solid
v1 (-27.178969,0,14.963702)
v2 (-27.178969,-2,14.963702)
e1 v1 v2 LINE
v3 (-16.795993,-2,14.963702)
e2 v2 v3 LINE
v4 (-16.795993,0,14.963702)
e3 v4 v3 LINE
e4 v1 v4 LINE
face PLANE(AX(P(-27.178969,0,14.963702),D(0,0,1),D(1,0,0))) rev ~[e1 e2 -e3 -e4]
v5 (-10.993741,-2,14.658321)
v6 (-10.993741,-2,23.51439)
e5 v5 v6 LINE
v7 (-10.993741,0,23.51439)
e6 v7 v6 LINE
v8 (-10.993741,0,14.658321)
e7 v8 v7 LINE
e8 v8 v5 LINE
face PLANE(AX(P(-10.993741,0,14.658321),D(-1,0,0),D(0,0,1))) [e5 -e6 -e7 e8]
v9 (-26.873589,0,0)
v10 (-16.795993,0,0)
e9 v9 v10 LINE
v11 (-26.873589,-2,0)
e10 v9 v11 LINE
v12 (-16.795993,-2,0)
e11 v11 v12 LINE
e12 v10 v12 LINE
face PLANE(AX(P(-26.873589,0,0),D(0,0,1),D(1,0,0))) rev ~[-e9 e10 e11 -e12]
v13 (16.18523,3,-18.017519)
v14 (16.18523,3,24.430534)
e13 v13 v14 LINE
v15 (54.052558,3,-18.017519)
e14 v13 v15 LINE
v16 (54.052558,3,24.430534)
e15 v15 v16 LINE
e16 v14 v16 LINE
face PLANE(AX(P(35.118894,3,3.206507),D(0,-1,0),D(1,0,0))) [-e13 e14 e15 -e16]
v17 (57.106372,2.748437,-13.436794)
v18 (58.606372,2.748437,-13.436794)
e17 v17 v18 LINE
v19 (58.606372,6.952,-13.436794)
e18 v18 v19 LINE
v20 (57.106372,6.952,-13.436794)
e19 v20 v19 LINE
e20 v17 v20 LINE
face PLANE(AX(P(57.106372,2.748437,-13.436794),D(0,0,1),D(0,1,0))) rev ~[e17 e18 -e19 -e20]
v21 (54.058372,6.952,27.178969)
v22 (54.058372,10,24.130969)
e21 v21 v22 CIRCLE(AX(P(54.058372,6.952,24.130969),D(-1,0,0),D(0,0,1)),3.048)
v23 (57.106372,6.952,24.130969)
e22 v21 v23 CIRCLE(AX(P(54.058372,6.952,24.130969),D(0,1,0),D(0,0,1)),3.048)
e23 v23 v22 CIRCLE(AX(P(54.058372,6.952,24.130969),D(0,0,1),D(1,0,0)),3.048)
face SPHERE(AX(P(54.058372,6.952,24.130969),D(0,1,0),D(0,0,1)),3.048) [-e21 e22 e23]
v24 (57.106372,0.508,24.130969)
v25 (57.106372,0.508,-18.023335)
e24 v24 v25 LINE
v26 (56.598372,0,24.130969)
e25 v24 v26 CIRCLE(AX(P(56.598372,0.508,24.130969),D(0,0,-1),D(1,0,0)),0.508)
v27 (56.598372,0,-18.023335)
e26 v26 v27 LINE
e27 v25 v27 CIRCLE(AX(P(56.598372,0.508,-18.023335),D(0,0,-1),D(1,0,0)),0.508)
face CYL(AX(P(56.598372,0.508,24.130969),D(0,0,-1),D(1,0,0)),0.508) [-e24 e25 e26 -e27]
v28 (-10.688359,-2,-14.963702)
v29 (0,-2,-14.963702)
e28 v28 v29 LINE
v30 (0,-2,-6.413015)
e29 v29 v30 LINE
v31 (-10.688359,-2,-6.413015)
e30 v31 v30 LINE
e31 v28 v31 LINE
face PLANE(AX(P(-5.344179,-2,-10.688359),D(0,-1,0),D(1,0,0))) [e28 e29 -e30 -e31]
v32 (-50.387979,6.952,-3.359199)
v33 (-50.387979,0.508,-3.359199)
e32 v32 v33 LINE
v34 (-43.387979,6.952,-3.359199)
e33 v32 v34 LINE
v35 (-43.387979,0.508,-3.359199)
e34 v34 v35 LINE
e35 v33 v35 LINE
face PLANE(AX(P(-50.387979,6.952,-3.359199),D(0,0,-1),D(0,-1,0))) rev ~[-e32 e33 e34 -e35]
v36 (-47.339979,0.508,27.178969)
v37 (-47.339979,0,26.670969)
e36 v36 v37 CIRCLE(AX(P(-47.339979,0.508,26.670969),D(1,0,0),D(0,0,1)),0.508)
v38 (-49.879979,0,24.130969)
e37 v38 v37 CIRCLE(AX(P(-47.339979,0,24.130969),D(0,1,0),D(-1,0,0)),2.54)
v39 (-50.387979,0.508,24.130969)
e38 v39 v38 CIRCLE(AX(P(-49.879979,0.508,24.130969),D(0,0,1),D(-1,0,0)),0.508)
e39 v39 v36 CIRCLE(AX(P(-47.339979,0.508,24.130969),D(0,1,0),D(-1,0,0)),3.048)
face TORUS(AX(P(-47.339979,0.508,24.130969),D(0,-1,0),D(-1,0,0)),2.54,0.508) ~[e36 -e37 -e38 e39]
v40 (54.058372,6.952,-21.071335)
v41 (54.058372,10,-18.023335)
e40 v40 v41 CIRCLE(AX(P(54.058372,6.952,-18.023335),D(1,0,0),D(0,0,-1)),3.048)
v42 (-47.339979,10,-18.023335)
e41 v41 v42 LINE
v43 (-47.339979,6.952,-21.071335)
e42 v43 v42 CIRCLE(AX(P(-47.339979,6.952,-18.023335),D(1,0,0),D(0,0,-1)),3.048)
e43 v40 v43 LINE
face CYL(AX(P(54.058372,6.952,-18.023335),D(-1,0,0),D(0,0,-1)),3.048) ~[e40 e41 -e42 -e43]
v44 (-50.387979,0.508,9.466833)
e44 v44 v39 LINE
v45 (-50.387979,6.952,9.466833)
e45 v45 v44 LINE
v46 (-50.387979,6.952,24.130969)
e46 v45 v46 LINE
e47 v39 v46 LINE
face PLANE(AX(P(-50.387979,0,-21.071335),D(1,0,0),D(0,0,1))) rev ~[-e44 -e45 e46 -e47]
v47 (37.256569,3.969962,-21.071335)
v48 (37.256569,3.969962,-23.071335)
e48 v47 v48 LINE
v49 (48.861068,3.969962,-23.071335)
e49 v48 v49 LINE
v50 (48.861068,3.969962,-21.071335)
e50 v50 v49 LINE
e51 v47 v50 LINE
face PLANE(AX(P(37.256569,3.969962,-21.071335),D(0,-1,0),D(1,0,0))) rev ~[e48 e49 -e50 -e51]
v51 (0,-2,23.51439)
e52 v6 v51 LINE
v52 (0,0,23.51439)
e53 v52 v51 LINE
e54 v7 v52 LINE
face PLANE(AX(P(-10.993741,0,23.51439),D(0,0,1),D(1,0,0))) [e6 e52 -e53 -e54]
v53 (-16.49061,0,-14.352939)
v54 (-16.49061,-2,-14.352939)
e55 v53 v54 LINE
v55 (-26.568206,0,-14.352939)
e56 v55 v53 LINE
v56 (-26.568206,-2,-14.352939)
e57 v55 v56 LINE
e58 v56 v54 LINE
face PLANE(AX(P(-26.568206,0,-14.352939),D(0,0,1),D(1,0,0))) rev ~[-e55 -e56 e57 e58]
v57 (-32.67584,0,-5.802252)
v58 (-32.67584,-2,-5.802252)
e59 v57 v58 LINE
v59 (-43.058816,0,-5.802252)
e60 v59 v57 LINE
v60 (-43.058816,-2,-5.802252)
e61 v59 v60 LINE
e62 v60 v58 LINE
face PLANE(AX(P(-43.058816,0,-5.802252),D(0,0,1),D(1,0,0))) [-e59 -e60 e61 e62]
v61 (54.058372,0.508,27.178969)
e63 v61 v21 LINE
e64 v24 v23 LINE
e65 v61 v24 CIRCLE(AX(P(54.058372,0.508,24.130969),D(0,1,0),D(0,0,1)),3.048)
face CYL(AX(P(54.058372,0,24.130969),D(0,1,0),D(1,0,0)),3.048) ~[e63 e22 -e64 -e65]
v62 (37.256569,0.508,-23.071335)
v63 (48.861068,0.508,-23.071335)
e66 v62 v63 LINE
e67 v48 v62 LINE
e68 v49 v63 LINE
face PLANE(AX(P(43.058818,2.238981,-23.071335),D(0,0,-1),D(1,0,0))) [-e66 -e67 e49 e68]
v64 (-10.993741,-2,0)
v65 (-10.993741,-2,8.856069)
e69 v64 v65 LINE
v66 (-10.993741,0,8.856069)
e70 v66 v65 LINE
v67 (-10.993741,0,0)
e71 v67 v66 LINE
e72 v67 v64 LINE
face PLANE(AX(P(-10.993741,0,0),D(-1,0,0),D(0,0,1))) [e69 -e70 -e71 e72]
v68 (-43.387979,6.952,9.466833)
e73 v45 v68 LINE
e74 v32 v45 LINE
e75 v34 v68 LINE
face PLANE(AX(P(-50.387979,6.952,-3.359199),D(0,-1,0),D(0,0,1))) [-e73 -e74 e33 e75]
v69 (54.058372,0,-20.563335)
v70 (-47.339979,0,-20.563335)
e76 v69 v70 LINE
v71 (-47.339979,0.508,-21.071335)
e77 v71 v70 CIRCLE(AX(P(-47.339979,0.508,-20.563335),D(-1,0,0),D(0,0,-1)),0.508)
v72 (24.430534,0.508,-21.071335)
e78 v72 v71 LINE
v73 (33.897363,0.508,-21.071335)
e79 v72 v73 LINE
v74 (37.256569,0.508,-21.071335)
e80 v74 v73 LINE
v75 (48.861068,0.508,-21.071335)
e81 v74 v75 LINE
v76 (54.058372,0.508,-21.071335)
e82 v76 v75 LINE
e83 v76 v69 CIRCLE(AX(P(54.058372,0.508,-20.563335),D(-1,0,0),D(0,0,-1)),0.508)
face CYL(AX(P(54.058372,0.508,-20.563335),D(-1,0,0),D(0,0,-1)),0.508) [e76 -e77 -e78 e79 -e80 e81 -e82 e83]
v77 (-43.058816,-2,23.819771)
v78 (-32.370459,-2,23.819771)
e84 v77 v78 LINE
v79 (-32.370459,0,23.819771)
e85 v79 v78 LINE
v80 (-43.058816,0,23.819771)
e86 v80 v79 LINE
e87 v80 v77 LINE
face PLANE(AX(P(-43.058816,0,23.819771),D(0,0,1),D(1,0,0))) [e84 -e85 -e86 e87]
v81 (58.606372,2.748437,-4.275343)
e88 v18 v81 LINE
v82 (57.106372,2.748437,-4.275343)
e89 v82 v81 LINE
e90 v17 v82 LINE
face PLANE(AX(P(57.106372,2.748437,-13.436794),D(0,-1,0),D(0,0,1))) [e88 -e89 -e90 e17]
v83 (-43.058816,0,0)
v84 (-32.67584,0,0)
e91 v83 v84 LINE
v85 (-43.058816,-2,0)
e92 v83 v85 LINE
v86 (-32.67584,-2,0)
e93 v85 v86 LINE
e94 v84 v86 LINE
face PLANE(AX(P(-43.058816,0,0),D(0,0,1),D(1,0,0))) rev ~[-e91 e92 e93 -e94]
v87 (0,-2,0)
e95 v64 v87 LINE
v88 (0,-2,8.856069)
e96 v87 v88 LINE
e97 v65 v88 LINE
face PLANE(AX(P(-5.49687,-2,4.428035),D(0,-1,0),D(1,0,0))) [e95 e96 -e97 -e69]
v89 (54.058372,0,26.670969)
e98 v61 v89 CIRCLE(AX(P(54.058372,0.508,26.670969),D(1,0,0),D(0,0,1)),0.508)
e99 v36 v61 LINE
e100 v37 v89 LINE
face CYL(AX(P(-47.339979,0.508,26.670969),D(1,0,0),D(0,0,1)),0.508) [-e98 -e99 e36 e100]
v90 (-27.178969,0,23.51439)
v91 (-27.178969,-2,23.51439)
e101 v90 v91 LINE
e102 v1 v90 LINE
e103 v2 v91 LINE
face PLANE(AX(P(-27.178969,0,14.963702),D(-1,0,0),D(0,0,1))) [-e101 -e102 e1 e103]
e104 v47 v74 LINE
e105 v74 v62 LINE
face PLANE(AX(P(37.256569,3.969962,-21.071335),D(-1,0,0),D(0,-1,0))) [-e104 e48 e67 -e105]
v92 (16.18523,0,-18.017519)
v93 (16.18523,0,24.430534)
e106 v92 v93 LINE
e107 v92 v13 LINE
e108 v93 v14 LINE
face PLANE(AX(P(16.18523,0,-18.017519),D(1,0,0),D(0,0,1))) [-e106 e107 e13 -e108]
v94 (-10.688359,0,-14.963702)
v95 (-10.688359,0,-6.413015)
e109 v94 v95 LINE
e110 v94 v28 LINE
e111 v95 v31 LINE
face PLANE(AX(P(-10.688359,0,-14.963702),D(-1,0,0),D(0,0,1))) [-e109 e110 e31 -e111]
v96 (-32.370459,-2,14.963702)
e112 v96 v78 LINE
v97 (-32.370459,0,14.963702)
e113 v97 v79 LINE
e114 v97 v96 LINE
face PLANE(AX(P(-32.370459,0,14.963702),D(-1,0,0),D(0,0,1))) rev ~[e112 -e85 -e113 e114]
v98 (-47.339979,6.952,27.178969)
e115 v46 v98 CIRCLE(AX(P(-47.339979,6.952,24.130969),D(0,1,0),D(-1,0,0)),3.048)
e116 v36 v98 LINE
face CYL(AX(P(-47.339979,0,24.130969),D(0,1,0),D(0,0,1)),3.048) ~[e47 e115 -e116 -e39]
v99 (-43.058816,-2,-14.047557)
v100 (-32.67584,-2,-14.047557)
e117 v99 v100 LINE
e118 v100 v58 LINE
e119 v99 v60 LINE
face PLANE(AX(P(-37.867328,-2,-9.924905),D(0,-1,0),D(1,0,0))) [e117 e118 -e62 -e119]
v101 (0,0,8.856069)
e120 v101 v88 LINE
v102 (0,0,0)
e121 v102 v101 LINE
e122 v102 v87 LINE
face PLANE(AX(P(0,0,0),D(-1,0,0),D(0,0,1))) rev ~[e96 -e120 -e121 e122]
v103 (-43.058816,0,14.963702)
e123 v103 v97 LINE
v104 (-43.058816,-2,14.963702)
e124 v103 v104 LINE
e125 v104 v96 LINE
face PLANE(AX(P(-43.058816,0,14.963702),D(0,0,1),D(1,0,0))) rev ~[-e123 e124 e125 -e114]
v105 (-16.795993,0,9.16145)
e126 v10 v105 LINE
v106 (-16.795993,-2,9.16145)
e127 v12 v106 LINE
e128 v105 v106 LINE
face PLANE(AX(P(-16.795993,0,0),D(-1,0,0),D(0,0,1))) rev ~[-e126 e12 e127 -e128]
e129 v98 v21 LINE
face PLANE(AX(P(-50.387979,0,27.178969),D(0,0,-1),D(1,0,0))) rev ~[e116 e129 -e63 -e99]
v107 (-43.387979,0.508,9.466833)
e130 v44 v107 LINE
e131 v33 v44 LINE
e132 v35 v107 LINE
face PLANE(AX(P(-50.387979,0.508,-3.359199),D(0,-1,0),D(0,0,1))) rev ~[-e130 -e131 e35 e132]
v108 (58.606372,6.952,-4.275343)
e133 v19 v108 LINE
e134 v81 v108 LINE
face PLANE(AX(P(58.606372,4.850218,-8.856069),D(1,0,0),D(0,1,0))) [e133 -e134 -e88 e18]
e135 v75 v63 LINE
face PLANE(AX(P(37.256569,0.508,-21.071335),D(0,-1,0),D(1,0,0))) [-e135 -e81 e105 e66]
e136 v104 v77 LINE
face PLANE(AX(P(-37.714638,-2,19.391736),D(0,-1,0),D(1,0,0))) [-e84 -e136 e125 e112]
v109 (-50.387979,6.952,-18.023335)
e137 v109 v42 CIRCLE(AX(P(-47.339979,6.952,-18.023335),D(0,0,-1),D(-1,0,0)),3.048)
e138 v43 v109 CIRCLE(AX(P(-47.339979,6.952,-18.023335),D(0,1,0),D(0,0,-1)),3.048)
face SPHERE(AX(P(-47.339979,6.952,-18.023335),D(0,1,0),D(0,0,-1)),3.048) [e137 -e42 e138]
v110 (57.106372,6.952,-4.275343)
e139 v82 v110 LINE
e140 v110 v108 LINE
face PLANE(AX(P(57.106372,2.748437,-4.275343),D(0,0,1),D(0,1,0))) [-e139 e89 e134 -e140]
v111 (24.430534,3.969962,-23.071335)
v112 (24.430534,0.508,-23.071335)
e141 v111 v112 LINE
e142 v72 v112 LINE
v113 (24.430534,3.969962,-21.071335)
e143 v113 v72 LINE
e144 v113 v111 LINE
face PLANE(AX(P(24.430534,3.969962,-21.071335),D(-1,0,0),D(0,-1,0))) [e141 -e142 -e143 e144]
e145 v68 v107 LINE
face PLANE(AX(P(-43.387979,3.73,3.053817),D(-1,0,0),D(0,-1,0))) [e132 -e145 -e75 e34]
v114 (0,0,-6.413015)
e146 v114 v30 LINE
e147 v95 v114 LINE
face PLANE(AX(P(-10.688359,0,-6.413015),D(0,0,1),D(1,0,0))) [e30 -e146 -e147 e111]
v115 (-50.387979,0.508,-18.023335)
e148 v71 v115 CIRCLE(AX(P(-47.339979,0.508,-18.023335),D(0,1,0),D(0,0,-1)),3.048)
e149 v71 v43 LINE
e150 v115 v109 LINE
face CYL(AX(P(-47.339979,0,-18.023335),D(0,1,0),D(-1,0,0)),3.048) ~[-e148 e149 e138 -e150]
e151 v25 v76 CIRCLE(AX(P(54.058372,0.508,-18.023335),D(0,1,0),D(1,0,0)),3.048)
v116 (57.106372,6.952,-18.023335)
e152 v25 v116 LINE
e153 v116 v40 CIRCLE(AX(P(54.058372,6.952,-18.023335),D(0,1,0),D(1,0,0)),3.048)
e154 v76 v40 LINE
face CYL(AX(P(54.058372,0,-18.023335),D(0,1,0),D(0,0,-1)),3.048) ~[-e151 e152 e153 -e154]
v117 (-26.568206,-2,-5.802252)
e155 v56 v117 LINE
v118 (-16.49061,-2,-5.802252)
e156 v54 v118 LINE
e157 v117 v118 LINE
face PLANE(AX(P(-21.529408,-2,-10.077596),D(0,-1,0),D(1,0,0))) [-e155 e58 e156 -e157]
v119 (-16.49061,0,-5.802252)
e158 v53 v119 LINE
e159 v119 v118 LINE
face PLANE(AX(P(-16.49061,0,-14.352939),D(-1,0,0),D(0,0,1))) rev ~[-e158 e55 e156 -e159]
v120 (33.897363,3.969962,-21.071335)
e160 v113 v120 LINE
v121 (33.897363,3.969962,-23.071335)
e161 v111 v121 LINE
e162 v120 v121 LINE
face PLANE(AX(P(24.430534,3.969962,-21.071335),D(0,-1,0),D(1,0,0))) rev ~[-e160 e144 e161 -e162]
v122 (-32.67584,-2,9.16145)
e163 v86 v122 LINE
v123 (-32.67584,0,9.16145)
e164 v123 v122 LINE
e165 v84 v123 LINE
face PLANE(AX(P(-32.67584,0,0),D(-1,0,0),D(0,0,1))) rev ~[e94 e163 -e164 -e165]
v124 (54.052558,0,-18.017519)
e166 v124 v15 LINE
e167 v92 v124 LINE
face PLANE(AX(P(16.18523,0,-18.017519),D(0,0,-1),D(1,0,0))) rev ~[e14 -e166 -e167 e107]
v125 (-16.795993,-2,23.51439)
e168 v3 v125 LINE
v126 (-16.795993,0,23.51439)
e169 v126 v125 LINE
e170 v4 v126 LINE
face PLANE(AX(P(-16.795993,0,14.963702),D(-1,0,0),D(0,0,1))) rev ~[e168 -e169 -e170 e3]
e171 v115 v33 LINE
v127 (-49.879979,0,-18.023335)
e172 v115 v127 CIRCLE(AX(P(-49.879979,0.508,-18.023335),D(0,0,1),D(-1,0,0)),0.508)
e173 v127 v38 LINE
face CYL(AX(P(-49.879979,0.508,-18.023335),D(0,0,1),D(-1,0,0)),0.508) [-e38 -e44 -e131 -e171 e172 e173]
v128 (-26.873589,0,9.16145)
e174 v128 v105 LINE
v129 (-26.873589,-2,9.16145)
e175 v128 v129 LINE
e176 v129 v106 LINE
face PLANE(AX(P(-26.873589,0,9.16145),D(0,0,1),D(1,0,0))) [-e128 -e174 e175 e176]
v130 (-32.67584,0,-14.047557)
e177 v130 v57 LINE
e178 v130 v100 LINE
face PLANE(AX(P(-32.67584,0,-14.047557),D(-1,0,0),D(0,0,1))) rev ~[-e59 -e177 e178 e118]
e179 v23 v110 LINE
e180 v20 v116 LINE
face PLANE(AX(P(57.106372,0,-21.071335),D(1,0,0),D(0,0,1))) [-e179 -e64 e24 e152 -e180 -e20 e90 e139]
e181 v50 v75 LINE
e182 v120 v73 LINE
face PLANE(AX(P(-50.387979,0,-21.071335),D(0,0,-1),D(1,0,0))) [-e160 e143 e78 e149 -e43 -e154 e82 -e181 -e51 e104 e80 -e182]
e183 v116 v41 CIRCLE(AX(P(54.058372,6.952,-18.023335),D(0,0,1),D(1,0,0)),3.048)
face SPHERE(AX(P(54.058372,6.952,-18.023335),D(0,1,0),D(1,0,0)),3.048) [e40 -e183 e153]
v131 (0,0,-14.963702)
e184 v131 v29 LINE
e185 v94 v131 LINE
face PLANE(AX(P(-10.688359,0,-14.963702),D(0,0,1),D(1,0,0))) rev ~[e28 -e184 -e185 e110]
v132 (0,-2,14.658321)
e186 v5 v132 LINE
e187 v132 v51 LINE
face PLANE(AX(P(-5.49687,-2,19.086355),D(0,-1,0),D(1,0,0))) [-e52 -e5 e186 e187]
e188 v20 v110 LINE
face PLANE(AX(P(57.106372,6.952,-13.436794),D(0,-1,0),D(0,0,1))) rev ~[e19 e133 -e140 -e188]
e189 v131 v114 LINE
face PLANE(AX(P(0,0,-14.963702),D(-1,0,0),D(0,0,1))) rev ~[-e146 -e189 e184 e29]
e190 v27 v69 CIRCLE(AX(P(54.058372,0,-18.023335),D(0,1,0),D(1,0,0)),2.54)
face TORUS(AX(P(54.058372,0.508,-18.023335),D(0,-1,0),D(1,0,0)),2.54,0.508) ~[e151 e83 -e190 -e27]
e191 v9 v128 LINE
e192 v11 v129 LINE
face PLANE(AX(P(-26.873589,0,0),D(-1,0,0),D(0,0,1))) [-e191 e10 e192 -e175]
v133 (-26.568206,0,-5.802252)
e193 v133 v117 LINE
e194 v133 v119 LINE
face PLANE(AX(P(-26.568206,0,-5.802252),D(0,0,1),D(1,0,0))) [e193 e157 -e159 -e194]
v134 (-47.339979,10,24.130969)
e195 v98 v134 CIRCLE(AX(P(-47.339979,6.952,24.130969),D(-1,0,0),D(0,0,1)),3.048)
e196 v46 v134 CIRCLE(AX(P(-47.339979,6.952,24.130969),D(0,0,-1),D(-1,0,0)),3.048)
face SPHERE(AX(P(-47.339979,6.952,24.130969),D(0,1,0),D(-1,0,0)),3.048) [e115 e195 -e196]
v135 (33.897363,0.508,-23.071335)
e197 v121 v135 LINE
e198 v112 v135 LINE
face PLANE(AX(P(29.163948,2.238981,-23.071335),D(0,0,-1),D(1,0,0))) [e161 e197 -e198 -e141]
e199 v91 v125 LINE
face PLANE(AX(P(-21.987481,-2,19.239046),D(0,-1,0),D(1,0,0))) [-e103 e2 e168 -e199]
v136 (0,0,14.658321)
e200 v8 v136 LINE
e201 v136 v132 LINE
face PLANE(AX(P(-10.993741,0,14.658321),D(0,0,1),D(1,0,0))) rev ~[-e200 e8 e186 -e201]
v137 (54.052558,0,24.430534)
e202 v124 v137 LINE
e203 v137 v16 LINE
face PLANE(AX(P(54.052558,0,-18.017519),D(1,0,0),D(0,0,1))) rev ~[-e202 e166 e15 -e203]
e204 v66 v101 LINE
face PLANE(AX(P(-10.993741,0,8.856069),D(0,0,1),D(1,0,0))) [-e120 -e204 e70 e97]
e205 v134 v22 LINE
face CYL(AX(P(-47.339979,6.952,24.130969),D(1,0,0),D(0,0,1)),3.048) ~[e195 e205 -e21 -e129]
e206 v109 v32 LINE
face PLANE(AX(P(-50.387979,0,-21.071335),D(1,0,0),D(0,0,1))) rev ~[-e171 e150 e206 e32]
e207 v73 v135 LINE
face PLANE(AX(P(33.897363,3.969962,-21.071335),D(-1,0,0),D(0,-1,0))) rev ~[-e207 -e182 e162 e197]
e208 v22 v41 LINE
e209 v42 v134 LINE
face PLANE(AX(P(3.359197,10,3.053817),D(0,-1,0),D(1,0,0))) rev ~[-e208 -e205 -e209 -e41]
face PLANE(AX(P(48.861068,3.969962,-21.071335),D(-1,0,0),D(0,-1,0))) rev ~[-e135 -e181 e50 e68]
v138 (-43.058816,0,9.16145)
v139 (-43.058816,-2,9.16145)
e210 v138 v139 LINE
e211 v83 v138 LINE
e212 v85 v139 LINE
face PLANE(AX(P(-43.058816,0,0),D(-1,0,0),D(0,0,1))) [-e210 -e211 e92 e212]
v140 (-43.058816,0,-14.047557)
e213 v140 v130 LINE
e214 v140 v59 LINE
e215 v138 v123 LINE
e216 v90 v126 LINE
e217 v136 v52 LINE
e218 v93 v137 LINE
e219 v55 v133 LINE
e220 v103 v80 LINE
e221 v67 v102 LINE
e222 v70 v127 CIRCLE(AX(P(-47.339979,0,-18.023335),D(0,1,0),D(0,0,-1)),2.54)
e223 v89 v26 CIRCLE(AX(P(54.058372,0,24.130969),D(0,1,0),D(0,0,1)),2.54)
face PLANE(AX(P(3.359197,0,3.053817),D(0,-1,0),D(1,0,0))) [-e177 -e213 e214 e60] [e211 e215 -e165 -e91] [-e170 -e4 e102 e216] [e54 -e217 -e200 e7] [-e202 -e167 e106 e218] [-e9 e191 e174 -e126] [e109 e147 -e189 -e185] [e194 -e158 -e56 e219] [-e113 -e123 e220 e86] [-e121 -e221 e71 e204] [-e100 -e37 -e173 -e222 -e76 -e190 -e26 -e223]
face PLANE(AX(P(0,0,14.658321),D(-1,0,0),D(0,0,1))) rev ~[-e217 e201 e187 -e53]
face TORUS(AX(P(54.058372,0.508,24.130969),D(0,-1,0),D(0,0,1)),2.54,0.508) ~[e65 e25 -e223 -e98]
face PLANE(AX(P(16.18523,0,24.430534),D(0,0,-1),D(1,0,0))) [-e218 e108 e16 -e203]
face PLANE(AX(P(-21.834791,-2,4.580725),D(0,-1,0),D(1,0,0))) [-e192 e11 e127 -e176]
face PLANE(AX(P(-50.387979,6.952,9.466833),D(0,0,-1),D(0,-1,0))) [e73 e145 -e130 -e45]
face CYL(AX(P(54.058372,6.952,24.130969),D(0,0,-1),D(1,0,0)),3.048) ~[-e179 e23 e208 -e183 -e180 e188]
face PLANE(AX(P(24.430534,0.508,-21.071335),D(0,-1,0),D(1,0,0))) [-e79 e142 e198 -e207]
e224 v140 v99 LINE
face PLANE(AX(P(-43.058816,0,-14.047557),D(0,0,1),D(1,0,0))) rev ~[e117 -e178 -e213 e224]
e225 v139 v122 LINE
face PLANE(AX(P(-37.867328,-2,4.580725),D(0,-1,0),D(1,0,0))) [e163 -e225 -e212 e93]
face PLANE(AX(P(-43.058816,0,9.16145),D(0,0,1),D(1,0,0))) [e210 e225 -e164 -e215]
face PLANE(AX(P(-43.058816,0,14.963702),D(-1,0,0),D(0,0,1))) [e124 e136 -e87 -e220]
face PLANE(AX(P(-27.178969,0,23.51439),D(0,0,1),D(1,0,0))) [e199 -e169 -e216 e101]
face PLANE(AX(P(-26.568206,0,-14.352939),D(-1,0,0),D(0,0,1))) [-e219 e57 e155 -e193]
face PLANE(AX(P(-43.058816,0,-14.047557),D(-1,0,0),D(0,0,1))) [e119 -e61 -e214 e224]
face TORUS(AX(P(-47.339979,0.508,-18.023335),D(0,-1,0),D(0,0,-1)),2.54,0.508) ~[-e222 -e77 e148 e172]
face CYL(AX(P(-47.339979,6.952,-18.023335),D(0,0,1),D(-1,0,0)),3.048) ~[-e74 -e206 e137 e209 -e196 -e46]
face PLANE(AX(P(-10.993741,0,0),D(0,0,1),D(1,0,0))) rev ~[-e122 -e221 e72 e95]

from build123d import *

# Parameters (mm, degrees)
F0_W      = 107.4943505228
F0_H      = 48.250304535
F1_DEPTH  = 10
F2_W      = 37.8673281521
F2_H      = 42.4480531365
F3_DEPTH  = 3
F4_W      = 10.9937405214
F4_H      = 8.8560692966
F5_DEPTH  = 2
F6_W      = 10.9937405214
F6_H      = 8.8560692966
F7_DEPTH  = 2
F8_W      = 10.6883589178
F8_H      = 8.5506872274
F9_DEPTH  = 2
F10_W     = 10.382976383
F10_H     = 8.5506876931
F11_DEPTH = 2
F12_W     = 10.0775957108
F12_H     = 9.1614499688
F13_DEPTH = 2
F14_W     = 10.0775957108
F14_H     = 8.5506867617
F15_DEPTH = 2
F16_W     = 10.6883570552
F16_H     = 8.8560683653
F17_DEPTH = 2
F18_W     = 10.382976383
F18_H     = 9.1614499688
F19_DEPTH = 2
F20_W     = 10.382976383
F20_H     = 8.2453051582
F21_DEPTH = 2
F22_R     = 3.048
F23_R     = 3.048
F24_R     = 3.048
F25_R     = 3.048
F26_R     = 3.048
F27_R     = 0.508
F28_W     = 6.444
F28_H     = 12.8260310739
F29_DEPTH = 7
F30_W     = 11.6044990718
F30_H     = 3.461962243
F31_DEPTH = 2
F32_W     = 9.4668287784
F32_H     = 3.461962243
F33_DEPTH = 2
F34_W     = 4.2035634727
F34_H     = 9.1614509001
F35_DEPTH = 1.5


with BuildPart() as f1:
    # F0 (on Front) → F1 (new body)
    with BuildSketch(Plane.XZ):
        with Locations((3.3591967076, 3.0538169667)):
            Rectangle(F0_W, F0_H)
    extrude(amount=-F1_DEPTH)

    # F2 (on face) → F3 (cut)
    with BuildSketch(Plane.XZ):
        with Locations((35.1188937202, 3.2065073028)):
            Rectangle(F2_W, F2_H)
    extrude(amount=-F3_DEPTH, mode=Mode.SUBTRACT)

    # F4 (on face) → F5 (join)
    with BuildSketch(Plane.XZ):
        with Locations((-5.4968702607, 19.0863553435)):
            Rectangle(F4_W, F4_H)
    extrude(amount=F5_DEPTH)

    # F6 (on face) → F7 (join)
    with BuildSketch(Plane.XZ):
        with Locations((-5.4968702607, 4.4280346483)):
            Rectangle(F6_W, F6_H)
    extrude(amount=F7_DEPTH)

    # F8 (on face) → F9 (join)
    with BuildSketch(Plane.XZ):
        with Locations((-5.3441794589, -10.688358685)):
            Rectangle(F8_W, F8_H)
    extrude(amount=F9_DEPTH)

    # F10 (on face) → F11 (join)
    with BuildSketch(Plane.XZ):
        with Locations((-21.9874810427, 19.2390461452)):
            Rectangle(F10_W, F10_H)
    extrude(amount=F11_DEPTH)

    # F12 (on face) → F13 (join)
    with BuildSketch(Plane.XZ):
        with Locations((-21.8347907066, 4.5807249844)):
            Rectangle(F12_W, F12_H)
    extrude(amount=F13_DEPTH)

    # F14 (on face) → F15 (join)
    with BuildSketch(Plane.XZ):
        with Locations((-21.5294081718, -10.0775957108)):
            Rectangle(F14_W, F14_H)
    extrude(amount=F15_DEPTH)

    # F16 (on face) → F17 (join)
    with BuildSketch(Plane.XZ):
        with Locations((-37.714637816, 19.3917364813)):
            Rectangle(F16_W, F16_H)
    extrude(amount=F17_DEPTH)

    # F18 (on face) → F19 (join)
    with BuildSketch(Plane.XZ):
        with Locations((-37.8673281521, 4.5807249844)):
            Rectangle(F18_W, F18_H)
    extrude(amount=F19_DEPTH)

    # F20 (on face) → F21 (join)
    with BuildSketch(Plane.XZ):
        with Locations((-37.8673281521, -9.924904909)):
            Rectangle(F20_W, F20_H)
    extrude(amount=F21_DEPTH)

    # F22
    f22_edges = [f1.edges().sort_by_distance(p)[0] for p in [
        (-50.387979, 5, -21.071335),
    ]]
    fillet(f22_edges, radius=F22_R)

    # F23
    f23_edges = [f1.edges().sort_by_distance(p)[0] for p in [
        (57.106372, 5, -21.071335),
    ]]
    fillet(f23_edges, radius=F23_R)

    # F24
    f24_edges = [f1.edges().sort_by_distance(p)[0] for p in [
        (57.106372, 5, 27.178969),
    ]]
    fillet(f24_edges, radius=F24_R)

    # F25
    f25_edges = [f1.edges().sort_by_distance(p)[0] for p in [
        (-50.387979, 5, 27.178969),
    ]]
    fillet(f25_edges, radius=F25_R)

    # F26
    f26_edges = [f1.edges().sort_by_distance(p)[0] for p in [
        (3.359197, 10, 27.178969),
    ]]
    fillet(f26_edges, radius=F26_R)

    # F27
    f27_edges = [f1.edges().sort_by_distance(p)[0] for p in [
        (3.359197, 0, 27.178969),
    ]]
    fillet(f27_edges, radius=F27_R)

    # F28 (on face) → F29 (cut)
    with BuildSketch(Plane(origin=(-50.3879785538, 0, 0), x_dir=(0, -1, 0), z_dir=(-1, 0, 0))):
        with Locations((-3.73, 3.0538169667)):
            Rectangle(F28_W, F28_H)
    extrude(amount=-F29_DEPTH, mode=Mode.SUBTRACT)

    # F30 (on face) → F31 (join)
    with BuildSketch(Plane(origin=(0, 0, -21.0713353008), x_dir=(1, 0, 0), z_dir=(0, 0, -1))):
        with Locations((43.0588182062, -2.2389811215)):
            Rectangle(F30_W, F30_H)
    extrude(amount=F31_DEPTH)

    # F32 (on face) → F33 (join)
    with BuildSketch(Plane(origin=(0, 0, -21.0713353008), x_dir=(1, 0, 0), z_dir=(0, 0, -1))):
        with Locations((29.1639482602, -2.2389811215)):
            Rectangle(F32_W, F32_H)
    extrude(amount=F33_DEPTH)

    # F34 (on face) → F35 (join)
    with BuildSketch(Plane.YZ.offset(57.106371969)):
        with Locations((4.8502182637, -8.8560688309)):
            Rectangle(F34_W, F34_H)
    extrude(amount=F35_DEPTH)


solid = f1.part
